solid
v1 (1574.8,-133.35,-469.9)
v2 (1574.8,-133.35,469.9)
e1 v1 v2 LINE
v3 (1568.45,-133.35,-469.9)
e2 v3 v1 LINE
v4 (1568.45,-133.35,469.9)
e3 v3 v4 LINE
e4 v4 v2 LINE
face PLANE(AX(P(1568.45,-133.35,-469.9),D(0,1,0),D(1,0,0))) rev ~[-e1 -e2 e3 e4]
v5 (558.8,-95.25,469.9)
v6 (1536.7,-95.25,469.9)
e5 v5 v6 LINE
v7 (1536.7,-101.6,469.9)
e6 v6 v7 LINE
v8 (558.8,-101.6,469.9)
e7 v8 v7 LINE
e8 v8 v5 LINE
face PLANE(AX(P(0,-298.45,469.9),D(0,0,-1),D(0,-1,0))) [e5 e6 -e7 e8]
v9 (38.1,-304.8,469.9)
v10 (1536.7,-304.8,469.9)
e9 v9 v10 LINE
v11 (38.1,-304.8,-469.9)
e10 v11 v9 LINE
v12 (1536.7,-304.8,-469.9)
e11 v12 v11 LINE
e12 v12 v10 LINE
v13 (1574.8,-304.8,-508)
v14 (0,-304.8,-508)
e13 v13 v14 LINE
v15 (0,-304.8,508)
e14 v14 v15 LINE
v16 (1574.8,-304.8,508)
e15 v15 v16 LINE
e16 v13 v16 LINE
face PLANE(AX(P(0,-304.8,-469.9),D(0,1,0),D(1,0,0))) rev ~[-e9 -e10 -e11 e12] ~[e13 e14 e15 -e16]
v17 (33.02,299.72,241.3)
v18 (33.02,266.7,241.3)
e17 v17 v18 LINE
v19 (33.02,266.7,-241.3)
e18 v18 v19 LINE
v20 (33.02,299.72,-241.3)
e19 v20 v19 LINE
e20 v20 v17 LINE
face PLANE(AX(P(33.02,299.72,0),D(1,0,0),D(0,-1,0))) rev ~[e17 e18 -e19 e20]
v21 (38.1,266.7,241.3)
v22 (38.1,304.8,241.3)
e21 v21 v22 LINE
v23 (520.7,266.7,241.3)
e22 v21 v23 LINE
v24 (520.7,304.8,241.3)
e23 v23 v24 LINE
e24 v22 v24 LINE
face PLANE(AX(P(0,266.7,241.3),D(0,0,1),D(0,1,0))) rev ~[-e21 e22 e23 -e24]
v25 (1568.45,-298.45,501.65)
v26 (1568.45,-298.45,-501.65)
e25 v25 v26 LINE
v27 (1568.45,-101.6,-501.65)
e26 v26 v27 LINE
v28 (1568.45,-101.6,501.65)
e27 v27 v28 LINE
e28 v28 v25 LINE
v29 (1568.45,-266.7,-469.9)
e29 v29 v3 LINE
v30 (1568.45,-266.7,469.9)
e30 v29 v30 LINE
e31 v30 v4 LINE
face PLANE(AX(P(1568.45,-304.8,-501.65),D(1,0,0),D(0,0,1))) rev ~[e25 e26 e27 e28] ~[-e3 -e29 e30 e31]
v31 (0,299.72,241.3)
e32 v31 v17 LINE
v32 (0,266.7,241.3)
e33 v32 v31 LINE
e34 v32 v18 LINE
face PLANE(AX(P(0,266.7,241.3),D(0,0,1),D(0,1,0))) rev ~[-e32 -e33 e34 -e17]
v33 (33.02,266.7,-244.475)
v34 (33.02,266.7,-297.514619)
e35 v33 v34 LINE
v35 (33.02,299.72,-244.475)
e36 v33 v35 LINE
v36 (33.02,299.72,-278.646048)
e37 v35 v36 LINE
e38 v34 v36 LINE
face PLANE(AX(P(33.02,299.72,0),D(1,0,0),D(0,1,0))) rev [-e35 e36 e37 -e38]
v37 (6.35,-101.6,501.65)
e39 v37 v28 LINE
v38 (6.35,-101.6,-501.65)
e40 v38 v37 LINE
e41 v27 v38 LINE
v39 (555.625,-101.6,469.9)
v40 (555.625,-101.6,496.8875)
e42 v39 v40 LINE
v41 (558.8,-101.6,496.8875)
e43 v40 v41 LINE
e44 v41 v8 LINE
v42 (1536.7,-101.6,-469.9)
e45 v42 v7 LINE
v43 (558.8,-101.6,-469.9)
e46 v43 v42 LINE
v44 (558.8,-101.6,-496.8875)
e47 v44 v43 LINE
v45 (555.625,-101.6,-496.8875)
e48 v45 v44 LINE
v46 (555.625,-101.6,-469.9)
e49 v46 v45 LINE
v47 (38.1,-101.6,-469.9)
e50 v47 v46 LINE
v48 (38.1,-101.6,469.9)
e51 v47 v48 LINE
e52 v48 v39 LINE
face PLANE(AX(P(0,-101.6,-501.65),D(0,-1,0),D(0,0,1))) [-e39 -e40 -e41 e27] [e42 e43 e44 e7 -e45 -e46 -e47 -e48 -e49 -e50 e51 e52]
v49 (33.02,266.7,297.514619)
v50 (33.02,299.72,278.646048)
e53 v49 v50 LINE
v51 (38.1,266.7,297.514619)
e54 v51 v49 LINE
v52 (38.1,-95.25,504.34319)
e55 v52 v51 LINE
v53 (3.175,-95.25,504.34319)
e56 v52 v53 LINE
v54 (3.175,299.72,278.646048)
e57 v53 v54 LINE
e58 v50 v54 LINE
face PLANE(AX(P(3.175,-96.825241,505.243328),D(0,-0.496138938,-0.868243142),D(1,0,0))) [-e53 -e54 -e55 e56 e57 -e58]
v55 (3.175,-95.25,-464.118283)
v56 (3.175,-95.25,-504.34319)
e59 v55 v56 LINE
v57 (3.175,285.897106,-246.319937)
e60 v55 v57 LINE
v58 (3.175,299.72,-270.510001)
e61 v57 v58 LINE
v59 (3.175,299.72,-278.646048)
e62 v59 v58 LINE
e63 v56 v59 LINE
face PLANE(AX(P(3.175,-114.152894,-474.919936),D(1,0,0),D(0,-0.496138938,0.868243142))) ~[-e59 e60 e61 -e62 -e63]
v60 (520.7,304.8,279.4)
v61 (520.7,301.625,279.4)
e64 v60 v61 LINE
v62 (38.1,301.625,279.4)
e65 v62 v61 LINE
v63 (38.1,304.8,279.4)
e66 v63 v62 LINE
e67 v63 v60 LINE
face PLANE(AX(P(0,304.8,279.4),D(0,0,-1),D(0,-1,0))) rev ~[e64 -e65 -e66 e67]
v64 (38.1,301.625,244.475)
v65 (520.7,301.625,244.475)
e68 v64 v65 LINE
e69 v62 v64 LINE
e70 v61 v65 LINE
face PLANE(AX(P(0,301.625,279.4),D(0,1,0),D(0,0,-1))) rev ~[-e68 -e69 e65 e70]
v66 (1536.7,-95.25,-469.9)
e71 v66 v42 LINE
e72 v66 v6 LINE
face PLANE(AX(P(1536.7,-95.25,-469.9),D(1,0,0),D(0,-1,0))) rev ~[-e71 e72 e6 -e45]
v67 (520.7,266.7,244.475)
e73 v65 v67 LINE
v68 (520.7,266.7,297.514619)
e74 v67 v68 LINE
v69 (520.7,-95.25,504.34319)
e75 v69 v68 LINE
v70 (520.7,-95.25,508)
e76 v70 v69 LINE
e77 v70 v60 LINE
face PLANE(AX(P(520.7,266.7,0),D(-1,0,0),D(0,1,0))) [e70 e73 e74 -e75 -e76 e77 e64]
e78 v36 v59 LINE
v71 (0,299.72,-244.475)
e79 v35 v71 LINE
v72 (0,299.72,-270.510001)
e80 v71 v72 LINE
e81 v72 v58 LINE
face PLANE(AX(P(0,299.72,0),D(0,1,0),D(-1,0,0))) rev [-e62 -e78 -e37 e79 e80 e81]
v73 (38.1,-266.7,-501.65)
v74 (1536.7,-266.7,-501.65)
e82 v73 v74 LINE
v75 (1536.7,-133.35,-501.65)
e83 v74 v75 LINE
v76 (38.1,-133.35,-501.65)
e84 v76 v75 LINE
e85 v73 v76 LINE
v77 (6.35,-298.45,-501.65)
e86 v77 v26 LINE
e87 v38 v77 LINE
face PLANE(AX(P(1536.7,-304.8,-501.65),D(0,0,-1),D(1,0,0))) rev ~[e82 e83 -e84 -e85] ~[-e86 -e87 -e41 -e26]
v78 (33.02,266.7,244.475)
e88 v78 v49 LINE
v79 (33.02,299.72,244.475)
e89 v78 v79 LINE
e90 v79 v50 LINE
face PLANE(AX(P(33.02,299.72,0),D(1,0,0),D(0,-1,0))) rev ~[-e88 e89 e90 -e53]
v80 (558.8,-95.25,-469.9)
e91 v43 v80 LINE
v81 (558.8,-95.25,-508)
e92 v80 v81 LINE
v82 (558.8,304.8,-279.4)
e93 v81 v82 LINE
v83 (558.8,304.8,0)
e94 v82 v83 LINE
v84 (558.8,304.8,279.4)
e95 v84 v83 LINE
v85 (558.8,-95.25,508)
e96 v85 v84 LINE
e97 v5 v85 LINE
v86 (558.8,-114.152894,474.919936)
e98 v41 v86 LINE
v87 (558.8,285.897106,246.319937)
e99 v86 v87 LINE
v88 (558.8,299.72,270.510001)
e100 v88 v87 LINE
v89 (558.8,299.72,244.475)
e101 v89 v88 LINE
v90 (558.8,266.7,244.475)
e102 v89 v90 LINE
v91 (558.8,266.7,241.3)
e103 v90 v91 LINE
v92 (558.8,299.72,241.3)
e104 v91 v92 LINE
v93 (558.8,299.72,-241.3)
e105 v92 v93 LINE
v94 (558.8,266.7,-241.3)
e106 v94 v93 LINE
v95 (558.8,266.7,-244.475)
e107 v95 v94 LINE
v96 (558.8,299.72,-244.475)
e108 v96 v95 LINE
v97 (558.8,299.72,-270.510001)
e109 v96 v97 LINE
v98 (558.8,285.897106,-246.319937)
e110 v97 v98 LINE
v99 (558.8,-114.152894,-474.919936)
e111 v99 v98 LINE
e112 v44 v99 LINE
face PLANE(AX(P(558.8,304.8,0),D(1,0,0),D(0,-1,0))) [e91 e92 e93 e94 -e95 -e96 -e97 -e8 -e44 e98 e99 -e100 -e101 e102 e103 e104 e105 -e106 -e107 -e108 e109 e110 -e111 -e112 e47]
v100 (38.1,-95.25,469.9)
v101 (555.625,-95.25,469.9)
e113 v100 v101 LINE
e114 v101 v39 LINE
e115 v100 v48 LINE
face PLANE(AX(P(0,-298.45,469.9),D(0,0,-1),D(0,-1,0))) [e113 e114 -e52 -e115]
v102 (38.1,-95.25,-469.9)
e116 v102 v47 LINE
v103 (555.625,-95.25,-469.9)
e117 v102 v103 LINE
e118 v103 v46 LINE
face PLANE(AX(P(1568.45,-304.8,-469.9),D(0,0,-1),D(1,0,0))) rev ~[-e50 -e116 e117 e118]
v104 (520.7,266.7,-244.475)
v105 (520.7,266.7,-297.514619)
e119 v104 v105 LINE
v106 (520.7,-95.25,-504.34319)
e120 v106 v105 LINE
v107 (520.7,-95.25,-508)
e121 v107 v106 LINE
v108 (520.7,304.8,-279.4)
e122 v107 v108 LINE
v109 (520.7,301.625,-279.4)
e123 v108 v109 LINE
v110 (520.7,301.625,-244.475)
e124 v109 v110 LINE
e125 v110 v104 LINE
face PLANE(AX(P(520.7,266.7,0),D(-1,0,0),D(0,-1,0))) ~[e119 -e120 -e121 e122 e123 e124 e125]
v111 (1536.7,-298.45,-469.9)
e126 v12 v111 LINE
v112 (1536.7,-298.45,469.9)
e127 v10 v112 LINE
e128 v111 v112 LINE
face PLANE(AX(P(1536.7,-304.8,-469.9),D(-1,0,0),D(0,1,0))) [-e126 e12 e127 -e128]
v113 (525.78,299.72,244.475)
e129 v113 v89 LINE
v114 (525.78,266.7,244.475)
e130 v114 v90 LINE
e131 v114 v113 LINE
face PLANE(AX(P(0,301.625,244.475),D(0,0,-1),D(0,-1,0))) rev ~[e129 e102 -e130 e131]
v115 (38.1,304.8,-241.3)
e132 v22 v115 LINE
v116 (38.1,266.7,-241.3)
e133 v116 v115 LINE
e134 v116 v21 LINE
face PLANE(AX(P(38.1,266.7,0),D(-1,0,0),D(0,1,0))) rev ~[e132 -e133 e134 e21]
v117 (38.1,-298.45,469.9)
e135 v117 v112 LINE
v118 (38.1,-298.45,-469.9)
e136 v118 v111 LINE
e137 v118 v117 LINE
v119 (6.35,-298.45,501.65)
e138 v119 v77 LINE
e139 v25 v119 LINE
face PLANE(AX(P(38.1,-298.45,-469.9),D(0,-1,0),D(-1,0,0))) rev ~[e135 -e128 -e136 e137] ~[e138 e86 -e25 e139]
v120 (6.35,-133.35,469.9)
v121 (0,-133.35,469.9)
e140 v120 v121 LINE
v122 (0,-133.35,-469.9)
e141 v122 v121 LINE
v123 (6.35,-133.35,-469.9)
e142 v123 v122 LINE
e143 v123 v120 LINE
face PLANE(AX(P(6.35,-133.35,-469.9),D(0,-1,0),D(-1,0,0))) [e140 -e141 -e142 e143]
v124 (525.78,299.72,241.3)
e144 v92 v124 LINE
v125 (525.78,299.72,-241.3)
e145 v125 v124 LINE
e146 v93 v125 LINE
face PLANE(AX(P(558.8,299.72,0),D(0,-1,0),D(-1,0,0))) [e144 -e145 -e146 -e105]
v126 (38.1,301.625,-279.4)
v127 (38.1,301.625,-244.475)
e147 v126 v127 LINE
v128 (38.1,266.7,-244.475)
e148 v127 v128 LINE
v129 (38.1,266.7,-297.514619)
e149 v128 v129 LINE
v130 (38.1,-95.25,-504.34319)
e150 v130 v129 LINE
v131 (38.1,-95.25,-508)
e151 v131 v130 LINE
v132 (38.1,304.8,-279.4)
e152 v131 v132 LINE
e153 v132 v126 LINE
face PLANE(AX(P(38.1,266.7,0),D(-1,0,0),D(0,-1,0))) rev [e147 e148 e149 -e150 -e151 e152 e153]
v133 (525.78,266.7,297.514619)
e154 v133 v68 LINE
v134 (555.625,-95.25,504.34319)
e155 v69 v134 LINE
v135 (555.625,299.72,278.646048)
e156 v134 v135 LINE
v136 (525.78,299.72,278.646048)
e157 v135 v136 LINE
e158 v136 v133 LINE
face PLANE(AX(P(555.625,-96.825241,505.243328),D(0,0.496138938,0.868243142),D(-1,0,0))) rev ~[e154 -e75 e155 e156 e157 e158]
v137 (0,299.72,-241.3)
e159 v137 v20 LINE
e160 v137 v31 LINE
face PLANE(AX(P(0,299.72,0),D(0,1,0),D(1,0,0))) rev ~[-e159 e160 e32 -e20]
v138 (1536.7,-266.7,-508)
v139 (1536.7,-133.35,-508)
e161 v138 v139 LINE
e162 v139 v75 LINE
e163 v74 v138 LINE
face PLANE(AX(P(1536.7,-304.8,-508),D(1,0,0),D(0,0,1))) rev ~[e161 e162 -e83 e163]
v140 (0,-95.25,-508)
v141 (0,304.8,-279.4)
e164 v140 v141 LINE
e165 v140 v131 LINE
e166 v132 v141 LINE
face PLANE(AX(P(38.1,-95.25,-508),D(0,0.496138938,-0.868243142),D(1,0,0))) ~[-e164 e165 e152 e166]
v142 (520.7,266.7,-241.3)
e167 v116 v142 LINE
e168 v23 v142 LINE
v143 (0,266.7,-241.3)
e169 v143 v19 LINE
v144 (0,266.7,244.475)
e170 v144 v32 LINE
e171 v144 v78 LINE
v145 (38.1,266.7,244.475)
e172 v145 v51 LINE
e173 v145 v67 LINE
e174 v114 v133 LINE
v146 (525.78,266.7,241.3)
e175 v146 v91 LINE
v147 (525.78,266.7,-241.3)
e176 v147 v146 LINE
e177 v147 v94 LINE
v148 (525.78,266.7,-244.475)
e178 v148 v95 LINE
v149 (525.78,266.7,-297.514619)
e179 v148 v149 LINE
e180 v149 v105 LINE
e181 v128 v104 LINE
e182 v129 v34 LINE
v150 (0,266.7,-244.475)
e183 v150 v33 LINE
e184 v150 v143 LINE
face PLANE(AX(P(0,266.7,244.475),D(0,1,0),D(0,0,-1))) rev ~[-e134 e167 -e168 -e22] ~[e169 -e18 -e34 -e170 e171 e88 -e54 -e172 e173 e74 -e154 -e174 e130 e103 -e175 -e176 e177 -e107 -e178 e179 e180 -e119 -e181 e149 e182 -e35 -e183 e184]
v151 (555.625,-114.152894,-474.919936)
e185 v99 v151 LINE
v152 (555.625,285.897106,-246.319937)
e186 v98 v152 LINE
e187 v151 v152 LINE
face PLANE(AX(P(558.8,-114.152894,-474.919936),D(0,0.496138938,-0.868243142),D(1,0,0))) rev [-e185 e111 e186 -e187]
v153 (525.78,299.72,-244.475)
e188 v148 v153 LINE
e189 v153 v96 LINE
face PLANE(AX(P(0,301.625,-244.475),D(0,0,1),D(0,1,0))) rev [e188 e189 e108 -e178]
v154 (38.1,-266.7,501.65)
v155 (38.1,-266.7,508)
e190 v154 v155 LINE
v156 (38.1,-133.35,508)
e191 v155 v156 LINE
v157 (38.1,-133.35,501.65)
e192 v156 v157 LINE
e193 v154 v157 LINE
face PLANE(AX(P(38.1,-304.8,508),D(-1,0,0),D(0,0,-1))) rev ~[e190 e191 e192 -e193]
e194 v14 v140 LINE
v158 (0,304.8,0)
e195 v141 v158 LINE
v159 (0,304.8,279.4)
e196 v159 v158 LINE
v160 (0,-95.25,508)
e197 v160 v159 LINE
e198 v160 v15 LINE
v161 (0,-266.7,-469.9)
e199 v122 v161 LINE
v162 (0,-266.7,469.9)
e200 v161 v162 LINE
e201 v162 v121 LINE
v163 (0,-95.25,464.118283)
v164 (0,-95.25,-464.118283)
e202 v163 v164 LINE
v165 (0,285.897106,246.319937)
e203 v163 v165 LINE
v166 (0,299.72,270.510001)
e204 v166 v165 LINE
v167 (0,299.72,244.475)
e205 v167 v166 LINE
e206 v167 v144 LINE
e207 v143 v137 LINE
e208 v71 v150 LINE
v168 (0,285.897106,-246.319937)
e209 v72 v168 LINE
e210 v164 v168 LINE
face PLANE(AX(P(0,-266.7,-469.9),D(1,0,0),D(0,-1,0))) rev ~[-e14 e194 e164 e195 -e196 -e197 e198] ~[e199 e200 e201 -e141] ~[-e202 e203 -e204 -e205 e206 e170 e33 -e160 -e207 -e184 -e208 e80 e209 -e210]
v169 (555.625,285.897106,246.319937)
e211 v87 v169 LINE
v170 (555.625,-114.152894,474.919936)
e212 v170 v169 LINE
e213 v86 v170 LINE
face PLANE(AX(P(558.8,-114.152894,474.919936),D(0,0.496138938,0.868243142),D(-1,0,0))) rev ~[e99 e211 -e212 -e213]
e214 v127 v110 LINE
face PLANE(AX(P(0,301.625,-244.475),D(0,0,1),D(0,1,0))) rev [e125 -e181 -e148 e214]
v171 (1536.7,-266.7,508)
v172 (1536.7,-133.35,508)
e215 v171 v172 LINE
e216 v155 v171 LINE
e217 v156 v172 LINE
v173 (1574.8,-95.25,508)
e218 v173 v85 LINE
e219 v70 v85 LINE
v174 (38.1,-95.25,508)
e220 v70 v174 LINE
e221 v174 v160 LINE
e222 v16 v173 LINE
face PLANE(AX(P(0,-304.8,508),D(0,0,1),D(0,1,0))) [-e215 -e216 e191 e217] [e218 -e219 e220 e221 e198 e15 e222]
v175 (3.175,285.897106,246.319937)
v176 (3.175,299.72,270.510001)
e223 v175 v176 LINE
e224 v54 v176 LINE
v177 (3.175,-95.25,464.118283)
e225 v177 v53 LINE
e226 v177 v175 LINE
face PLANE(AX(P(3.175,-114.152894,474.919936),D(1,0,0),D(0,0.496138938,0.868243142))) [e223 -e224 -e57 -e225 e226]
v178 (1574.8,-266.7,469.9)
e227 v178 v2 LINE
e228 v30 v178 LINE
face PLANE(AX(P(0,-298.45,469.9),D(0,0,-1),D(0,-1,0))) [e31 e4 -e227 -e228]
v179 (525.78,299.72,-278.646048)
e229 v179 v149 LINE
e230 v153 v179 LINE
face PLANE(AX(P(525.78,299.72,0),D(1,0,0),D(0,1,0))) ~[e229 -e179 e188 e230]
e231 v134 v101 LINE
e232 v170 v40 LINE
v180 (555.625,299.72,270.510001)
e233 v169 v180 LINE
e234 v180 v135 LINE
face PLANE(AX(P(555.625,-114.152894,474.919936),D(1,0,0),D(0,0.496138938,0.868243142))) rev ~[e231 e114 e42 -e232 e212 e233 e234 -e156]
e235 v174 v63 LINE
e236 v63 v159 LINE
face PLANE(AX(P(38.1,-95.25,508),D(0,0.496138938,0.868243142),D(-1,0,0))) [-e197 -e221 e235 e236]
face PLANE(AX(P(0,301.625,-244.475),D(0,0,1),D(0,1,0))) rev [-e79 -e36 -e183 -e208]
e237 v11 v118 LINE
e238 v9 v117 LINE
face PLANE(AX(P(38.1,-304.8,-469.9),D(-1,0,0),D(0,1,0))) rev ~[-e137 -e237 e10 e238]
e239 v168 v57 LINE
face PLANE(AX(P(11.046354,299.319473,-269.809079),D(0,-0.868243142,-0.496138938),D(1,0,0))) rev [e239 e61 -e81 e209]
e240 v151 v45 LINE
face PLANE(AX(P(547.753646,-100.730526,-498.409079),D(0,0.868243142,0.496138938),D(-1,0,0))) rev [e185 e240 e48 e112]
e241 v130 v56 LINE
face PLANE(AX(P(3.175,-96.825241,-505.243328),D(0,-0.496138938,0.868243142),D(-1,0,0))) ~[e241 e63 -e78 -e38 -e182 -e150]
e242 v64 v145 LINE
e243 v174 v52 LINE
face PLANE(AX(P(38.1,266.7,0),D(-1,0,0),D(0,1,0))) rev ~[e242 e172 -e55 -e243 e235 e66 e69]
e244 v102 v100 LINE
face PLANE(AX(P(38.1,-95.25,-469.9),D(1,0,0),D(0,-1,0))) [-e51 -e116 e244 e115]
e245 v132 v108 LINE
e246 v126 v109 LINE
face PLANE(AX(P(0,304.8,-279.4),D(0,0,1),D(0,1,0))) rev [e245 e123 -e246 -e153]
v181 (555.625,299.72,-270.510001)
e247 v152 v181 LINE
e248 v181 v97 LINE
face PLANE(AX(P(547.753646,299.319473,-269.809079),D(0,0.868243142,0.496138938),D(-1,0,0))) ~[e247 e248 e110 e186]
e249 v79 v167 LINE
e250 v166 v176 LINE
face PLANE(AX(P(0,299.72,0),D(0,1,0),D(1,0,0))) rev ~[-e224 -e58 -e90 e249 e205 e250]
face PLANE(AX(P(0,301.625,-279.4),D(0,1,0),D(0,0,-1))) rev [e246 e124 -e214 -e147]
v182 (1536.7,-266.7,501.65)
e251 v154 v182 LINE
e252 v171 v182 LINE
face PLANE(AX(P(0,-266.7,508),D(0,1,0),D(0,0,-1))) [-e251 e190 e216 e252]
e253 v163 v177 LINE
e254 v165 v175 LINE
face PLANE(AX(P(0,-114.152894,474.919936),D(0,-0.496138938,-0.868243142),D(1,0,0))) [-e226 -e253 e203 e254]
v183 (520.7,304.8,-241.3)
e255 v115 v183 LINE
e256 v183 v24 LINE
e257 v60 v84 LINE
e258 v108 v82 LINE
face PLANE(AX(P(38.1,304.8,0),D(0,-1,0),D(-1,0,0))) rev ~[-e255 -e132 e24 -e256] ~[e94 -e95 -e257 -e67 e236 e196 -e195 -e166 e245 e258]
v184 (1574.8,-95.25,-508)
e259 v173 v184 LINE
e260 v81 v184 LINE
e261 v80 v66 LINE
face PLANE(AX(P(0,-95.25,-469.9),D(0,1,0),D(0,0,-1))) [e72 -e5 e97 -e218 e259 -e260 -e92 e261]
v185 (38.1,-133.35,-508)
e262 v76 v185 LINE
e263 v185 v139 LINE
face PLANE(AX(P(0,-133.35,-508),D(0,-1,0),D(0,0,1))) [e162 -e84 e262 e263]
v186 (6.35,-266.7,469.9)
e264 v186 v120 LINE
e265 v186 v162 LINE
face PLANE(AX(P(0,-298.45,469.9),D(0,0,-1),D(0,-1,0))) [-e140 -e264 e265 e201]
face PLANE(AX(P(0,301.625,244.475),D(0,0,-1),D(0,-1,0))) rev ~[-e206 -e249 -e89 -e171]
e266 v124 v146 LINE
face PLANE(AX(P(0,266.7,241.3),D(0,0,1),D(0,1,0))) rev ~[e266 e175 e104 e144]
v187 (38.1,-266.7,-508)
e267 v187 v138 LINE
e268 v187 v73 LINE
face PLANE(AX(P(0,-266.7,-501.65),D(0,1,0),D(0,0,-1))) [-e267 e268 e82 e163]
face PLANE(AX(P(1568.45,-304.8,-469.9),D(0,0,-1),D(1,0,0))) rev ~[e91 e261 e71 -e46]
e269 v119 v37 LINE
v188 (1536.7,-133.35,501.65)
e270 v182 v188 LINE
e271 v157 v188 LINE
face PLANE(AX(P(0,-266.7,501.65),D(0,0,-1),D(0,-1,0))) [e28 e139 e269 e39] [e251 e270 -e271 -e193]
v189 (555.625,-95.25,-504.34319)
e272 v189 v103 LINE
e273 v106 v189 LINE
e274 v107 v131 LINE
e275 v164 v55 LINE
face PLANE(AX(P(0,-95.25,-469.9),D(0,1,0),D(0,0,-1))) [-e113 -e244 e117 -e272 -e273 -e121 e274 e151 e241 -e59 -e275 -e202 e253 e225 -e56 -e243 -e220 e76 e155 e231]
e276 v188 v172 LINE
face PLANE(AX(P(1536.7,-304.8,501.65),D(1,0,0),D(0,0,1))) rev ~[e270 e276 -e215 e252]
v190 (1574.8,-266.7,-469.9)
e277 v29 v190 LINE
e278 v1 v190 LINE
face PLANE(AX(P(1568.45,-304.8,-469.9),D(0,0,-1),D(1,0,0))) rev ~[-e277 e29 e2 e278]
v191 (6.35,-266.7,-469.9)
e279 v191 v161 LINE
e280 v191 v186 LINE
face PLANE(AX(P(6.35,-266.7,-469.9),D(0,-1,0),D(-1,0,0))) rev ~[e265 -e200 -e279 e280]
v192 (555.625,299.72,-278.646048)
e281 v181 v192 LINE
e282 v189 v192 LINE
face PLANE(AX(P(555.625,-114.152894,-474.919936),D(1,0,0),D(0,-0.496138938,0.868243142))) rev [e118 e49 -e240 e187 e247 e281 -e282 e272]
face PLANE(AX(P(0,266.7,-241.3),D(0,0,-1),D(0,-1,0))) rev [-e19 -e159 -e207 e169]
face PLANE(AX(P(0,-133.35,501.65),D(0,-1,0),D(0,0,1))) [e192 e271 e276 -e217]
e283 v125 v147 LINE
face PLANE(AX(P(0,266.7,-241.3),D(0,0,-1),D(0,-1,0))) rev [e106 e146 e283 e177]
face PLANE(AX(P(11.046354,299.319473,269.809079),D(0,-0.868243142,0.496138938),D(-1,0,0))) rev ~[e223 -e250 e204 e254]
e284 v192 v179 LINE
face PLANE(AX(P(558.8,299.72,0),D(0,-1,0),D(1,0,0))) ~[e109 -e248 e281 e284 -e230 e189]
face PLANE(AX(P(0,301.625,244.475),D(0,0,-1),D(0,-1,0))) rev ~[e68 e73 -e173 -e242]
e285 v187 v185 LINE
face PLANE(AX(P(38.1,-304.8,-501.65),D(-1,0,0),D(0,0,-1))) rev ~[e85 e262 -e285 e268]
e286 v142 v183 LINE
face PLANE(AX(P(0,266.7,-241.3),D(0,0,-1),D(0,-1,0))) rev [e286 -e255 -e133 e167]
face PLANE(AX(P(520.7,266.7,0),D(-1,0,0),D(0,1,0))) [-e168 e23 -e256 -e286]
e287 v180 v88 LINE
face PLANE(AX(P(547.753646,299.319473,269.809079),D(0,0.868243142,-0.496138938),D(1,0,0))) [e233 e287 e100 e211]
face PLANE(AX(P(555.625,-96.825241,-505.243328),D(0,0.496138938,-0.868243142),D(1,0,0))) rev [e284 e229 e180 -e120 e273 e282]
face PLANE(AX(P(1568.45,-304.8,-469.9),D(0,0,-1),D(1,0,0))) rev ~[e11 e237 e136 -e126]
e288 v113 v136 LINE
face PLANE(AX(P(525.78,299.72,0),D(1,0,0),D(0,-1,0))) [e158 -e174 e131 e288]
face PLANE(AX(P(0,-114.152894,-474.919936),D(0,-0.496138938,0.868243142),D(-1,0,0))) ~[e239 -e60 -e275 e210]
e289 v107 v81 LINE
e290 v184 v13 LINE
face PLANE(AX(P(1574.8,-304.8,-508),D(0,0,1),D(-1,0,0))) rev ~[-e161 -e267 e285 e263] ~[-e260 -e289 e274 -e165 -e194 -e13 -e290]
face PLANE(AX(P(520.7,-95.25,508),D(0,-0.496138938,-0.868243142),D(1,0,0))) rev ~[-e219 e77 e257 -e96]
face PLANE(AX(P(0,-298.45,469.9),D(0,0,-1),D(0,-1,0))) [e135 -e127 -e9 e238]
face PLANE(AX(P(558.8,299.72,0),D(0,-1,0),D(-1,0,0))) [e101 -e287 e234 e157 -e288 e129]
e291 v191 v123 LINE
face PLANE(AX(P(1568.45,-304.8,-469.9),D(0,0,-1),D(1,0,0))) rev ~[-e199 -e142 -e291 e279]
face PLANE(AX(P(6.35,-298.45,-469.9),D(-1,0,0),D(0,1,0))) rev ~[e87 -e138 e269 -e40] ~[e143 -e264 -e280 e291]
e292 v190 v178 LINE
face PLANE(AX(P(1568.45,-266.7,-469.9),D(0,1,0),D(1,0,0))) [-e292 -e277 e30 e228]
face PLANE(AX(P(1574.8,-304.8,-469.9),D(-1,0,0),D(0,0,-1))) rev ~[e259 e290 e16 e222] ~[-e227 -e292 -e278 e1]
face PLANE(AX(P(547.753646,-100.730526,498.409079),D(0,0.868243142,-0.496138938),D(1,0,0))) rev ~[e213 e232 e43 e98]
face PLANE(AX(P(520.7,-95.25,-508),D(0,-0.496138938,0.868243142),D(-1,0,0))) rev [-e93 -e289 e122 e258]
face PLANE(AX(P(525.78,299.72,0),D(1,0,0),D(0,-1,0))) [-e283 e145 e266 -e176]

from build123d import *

# Parameters (mm, degrees)
BOTTOM_HORIZONTAL_ANGLE_DEPTH   = 1574.8
BOTTOM_HORIZONTAL_ANGLE_2_DEPTH = 1574.8
BOTTOM_HORIZONTAL_ANGLE_3_DEPTH = 1574.8
BOTTOM_HORIZONTAL_ANGLE_4_DEPTH = 1574.8
FRONT_VERTIAL_ANGLE_DEPTH       = 209.55
REAR_DIAGONAL_ANGLE_DEPTH       = 460.75803
REAR_TOP_ANGLE_REACH            = 510
REAR_TOP_HORIZONTAL_ANGLE_DEPTH = 558.8
BOSS_EXTRUDE9_START             = -469.9
BOSS_EXTRUDE9_DEPTH             = 939.8


with BuildPart() as part:
    # Sketch5 → Bottom Horizontal Angle (new body)
    with BuildSketch(Plane(origin=(0, 0, 0), x_dir=(0, 0, -1), z_dir=(1, 0, 0))):
        Polygon((-508, -304.8), (-508, -266.7), (-501.65, -266.7), (-501.65, -298.45), (-469.9, -298.45), (-469.9, -304.8), align=None)
    extrude(amount=BOTTOM_HORIZONTAL_ANGLE_DEPTH)



with BuildPart() as body_2:
    # Sketch5 → Bottom Horizontal Angle 2 (new body)
    with BuildSketch(Plane(origin=(0, 0, 0), x_dir=(0, 0, -1), z_dir=(1, 0, 0))):
        Polygon((501.65, -266.7), (508, -266.7), (508, -304.8), (469.9, -304.8), (469.9, -298.45), (501.65, -298.45), align=None)
    extrude(amount=BOTTOM_HORIZONTAL_ANGLE_2_DEPTH)


with BuildPart() as body_3:
    # Sketch5 → Bottom Horizontal Angle 3 (new body)
    with BuildSketch(Plane(origin=(0, 0, 0), x_dir=(0, 0, -1), z_dir=(1, 0, 0))):
        Polygon((508, -95.25), (508, -133.35), (501.65, -133.35), (501.65, -101.6), (469.9, -101.6), (469.9, -95.25), align=None)
    extrude(amount=BOTTOM_HORIZONTAL_ANGLE_3_DEPTH)


with BuildPart() as body_4:
    # Sketch5 → Bottom Horizontal Angle 4 (new body)
    with BuildSketch(Plane(origin=(0, 0, 0), x_dir=(0, 0, -1), z_dir=(1, 0, 0))):
        Polygon((-501.65, -133.35), (-508, -133.35), (-508, -95.25), (-469.9, -95.25), (-469.9, -101.6), (-501.65, -101.6), align=None)
    extrude(amount=BOTTOM_HORIZONTAL_ANGLE_4_DEPTH)


with BuildPart() as part_1:
    add(part.part)

    add(body_2.part)  # Front Vertial Angle merges body 2

    add(body_3.part)  # Front Vertial Angle merges body 3

    add(body_4.part)  # Front Vertial Angle merges body 4
    # Sketch6 → Front Vertial Angle (add)
    with BuildSketch(Plane.XZ.offset(304.8)):
        Polygon((1574.8, -508), (1536.7, -508), (1536.7, -501.65), (1568.45, -501.65), (1568.45, -469.9), (1574.8, -469.9), align=None)
        Polygon((1536.7, 501.65), (1536.7, 508), (1574.8, 508), (1574.8, 469.9), (1568.45, 469.9), (1568.45, 501.65), align=None)
        Polygon((0, 508), (38.1, 508), (38.1, 501.65), (6.35, 501.65), (6.35, 469.9), (0, 469.9), align=None)
        Polygon((38.1, -501.65), (38.1, -508), (0, -508), (0, -469.9), (6.35, -469.9), (6.35, -501.65), align=None)
    extrude(amount=-FRONT_VERTIAL_ANGLE_DEPTH)

    # Sketch13 → Rear Diagonal Angle (add)
    with BuildSketch(Plane(origin=(0, -95.25, 508), x_dir=(-1, 0, 0), z_dir=(0, -0.868243142, 0.496138938))):
        Polygon((0, 0), (0, 38.1), (-3.175, 38.1), (-3.175, 3.175), (-38.1, 3.175), (-38.1, 0), align=None)
        Polygon((-520.7, 0), (-558.8, 0), (-558.8, 38.1), (-555.625, 38.1), (-555.625, 3.175), (-520.7, 3.175), align=None)
    extrude(amount=-REAR_DIAGONAL_ANGLE_DEPTH)

    # Sketch14 → Rear Top Angle (add, up to next)
    with BuildSketch(Plane.XY, mode=Mode.PRIVATE) as rear_top_angle_sk1:
        Polygon((33.02, 266.7), (38.1, 266.7), (38.1, 304.8), (0, 304.8), (0, 299.72), (33.02, 299.72), align=None)
    rear_top_angle_tool1 = extrude(rear_top_angle_sk1.sketch, amount=REAR_TOP_ANGLE_REACH, mode=Mode.PRIVATE) - part_1.part
    add(rear_top_angle_tool1.solids().sort_by_distance((35.56, 267.238815, 0))[0])
    # Sketch14 → Rear Top Angle (add, up to next)
    with BuildSketch(Plane.XY, mode=Mode.PRIVATE) as rear_top_angle_sk2:
        Polygon((525.78, 299.72), (525.78, 266.7), (520.7, 266.7), (520.7, 304.8), (558.8, 304.8), (558.8, 299.72), align=None)
    rear_top_angle_tool2 = extrude(rear_top_angle_sk2.sketch, amount=REAR_TOP_ANGLE_REACH, mode=Mode.PRIVATE) - part_1.part
    add(rear_top_angle_tool2.solids().sort_by_distance((525.241185, 283.21, 0))[0])

    # Sketch8 → Rear Top Horizontal Angle (add)
    with BuildSketch(Plane.ZY):
        Polygon((244.475, 266.7), (241.3, 266.7), (241.3, 304.8), (279.4, 304.8), (279.4, 301.625), (244.475, 301.625), align=None)
    extrude(amount=-REAR_TOP_HORIZONTAL_ANGLE_DEPTH)

    # Sketch15 → Boss-Extrude9 (add)
    with BuildSketch(Plane.XY.offset(BOSS_EXTRUDE9_START)):
        Polygon((0, -266.7), (0, -304.8), (38.1, -304.8), (38.1, -298.45), (6.35, -298.45), (6.35, -266.7), align=None)
        Polygon((1568.45, -266.7), (1574.8, -266.7), (1574.8, -304.8), (1536.7, -304.8), (1536.7, -298.45), (1568.45, -298.45), align=None)
        Polygon((1574.8, -133.35), (1574.8, -95.25), (1536.7, -95.25), (1536.7, -101.6), (1568.45, -101.6), (1568.45, -133.35), align=None)
        Polygon((6.35, -133.35), (0, -133.35), (0, -95.25), (38.1, -95.25), (38.1, -101.6), (6.35, -101.6), align=None)
    extrude(amount=BOSS_EXTRUDE9_DEPTH)

    # Mirror 2: part across plane


with BuildPart() as part_2:
    add(part_1.part)
    add(part_1.part.mirror(Plane.XY))


solid = part_2.part
